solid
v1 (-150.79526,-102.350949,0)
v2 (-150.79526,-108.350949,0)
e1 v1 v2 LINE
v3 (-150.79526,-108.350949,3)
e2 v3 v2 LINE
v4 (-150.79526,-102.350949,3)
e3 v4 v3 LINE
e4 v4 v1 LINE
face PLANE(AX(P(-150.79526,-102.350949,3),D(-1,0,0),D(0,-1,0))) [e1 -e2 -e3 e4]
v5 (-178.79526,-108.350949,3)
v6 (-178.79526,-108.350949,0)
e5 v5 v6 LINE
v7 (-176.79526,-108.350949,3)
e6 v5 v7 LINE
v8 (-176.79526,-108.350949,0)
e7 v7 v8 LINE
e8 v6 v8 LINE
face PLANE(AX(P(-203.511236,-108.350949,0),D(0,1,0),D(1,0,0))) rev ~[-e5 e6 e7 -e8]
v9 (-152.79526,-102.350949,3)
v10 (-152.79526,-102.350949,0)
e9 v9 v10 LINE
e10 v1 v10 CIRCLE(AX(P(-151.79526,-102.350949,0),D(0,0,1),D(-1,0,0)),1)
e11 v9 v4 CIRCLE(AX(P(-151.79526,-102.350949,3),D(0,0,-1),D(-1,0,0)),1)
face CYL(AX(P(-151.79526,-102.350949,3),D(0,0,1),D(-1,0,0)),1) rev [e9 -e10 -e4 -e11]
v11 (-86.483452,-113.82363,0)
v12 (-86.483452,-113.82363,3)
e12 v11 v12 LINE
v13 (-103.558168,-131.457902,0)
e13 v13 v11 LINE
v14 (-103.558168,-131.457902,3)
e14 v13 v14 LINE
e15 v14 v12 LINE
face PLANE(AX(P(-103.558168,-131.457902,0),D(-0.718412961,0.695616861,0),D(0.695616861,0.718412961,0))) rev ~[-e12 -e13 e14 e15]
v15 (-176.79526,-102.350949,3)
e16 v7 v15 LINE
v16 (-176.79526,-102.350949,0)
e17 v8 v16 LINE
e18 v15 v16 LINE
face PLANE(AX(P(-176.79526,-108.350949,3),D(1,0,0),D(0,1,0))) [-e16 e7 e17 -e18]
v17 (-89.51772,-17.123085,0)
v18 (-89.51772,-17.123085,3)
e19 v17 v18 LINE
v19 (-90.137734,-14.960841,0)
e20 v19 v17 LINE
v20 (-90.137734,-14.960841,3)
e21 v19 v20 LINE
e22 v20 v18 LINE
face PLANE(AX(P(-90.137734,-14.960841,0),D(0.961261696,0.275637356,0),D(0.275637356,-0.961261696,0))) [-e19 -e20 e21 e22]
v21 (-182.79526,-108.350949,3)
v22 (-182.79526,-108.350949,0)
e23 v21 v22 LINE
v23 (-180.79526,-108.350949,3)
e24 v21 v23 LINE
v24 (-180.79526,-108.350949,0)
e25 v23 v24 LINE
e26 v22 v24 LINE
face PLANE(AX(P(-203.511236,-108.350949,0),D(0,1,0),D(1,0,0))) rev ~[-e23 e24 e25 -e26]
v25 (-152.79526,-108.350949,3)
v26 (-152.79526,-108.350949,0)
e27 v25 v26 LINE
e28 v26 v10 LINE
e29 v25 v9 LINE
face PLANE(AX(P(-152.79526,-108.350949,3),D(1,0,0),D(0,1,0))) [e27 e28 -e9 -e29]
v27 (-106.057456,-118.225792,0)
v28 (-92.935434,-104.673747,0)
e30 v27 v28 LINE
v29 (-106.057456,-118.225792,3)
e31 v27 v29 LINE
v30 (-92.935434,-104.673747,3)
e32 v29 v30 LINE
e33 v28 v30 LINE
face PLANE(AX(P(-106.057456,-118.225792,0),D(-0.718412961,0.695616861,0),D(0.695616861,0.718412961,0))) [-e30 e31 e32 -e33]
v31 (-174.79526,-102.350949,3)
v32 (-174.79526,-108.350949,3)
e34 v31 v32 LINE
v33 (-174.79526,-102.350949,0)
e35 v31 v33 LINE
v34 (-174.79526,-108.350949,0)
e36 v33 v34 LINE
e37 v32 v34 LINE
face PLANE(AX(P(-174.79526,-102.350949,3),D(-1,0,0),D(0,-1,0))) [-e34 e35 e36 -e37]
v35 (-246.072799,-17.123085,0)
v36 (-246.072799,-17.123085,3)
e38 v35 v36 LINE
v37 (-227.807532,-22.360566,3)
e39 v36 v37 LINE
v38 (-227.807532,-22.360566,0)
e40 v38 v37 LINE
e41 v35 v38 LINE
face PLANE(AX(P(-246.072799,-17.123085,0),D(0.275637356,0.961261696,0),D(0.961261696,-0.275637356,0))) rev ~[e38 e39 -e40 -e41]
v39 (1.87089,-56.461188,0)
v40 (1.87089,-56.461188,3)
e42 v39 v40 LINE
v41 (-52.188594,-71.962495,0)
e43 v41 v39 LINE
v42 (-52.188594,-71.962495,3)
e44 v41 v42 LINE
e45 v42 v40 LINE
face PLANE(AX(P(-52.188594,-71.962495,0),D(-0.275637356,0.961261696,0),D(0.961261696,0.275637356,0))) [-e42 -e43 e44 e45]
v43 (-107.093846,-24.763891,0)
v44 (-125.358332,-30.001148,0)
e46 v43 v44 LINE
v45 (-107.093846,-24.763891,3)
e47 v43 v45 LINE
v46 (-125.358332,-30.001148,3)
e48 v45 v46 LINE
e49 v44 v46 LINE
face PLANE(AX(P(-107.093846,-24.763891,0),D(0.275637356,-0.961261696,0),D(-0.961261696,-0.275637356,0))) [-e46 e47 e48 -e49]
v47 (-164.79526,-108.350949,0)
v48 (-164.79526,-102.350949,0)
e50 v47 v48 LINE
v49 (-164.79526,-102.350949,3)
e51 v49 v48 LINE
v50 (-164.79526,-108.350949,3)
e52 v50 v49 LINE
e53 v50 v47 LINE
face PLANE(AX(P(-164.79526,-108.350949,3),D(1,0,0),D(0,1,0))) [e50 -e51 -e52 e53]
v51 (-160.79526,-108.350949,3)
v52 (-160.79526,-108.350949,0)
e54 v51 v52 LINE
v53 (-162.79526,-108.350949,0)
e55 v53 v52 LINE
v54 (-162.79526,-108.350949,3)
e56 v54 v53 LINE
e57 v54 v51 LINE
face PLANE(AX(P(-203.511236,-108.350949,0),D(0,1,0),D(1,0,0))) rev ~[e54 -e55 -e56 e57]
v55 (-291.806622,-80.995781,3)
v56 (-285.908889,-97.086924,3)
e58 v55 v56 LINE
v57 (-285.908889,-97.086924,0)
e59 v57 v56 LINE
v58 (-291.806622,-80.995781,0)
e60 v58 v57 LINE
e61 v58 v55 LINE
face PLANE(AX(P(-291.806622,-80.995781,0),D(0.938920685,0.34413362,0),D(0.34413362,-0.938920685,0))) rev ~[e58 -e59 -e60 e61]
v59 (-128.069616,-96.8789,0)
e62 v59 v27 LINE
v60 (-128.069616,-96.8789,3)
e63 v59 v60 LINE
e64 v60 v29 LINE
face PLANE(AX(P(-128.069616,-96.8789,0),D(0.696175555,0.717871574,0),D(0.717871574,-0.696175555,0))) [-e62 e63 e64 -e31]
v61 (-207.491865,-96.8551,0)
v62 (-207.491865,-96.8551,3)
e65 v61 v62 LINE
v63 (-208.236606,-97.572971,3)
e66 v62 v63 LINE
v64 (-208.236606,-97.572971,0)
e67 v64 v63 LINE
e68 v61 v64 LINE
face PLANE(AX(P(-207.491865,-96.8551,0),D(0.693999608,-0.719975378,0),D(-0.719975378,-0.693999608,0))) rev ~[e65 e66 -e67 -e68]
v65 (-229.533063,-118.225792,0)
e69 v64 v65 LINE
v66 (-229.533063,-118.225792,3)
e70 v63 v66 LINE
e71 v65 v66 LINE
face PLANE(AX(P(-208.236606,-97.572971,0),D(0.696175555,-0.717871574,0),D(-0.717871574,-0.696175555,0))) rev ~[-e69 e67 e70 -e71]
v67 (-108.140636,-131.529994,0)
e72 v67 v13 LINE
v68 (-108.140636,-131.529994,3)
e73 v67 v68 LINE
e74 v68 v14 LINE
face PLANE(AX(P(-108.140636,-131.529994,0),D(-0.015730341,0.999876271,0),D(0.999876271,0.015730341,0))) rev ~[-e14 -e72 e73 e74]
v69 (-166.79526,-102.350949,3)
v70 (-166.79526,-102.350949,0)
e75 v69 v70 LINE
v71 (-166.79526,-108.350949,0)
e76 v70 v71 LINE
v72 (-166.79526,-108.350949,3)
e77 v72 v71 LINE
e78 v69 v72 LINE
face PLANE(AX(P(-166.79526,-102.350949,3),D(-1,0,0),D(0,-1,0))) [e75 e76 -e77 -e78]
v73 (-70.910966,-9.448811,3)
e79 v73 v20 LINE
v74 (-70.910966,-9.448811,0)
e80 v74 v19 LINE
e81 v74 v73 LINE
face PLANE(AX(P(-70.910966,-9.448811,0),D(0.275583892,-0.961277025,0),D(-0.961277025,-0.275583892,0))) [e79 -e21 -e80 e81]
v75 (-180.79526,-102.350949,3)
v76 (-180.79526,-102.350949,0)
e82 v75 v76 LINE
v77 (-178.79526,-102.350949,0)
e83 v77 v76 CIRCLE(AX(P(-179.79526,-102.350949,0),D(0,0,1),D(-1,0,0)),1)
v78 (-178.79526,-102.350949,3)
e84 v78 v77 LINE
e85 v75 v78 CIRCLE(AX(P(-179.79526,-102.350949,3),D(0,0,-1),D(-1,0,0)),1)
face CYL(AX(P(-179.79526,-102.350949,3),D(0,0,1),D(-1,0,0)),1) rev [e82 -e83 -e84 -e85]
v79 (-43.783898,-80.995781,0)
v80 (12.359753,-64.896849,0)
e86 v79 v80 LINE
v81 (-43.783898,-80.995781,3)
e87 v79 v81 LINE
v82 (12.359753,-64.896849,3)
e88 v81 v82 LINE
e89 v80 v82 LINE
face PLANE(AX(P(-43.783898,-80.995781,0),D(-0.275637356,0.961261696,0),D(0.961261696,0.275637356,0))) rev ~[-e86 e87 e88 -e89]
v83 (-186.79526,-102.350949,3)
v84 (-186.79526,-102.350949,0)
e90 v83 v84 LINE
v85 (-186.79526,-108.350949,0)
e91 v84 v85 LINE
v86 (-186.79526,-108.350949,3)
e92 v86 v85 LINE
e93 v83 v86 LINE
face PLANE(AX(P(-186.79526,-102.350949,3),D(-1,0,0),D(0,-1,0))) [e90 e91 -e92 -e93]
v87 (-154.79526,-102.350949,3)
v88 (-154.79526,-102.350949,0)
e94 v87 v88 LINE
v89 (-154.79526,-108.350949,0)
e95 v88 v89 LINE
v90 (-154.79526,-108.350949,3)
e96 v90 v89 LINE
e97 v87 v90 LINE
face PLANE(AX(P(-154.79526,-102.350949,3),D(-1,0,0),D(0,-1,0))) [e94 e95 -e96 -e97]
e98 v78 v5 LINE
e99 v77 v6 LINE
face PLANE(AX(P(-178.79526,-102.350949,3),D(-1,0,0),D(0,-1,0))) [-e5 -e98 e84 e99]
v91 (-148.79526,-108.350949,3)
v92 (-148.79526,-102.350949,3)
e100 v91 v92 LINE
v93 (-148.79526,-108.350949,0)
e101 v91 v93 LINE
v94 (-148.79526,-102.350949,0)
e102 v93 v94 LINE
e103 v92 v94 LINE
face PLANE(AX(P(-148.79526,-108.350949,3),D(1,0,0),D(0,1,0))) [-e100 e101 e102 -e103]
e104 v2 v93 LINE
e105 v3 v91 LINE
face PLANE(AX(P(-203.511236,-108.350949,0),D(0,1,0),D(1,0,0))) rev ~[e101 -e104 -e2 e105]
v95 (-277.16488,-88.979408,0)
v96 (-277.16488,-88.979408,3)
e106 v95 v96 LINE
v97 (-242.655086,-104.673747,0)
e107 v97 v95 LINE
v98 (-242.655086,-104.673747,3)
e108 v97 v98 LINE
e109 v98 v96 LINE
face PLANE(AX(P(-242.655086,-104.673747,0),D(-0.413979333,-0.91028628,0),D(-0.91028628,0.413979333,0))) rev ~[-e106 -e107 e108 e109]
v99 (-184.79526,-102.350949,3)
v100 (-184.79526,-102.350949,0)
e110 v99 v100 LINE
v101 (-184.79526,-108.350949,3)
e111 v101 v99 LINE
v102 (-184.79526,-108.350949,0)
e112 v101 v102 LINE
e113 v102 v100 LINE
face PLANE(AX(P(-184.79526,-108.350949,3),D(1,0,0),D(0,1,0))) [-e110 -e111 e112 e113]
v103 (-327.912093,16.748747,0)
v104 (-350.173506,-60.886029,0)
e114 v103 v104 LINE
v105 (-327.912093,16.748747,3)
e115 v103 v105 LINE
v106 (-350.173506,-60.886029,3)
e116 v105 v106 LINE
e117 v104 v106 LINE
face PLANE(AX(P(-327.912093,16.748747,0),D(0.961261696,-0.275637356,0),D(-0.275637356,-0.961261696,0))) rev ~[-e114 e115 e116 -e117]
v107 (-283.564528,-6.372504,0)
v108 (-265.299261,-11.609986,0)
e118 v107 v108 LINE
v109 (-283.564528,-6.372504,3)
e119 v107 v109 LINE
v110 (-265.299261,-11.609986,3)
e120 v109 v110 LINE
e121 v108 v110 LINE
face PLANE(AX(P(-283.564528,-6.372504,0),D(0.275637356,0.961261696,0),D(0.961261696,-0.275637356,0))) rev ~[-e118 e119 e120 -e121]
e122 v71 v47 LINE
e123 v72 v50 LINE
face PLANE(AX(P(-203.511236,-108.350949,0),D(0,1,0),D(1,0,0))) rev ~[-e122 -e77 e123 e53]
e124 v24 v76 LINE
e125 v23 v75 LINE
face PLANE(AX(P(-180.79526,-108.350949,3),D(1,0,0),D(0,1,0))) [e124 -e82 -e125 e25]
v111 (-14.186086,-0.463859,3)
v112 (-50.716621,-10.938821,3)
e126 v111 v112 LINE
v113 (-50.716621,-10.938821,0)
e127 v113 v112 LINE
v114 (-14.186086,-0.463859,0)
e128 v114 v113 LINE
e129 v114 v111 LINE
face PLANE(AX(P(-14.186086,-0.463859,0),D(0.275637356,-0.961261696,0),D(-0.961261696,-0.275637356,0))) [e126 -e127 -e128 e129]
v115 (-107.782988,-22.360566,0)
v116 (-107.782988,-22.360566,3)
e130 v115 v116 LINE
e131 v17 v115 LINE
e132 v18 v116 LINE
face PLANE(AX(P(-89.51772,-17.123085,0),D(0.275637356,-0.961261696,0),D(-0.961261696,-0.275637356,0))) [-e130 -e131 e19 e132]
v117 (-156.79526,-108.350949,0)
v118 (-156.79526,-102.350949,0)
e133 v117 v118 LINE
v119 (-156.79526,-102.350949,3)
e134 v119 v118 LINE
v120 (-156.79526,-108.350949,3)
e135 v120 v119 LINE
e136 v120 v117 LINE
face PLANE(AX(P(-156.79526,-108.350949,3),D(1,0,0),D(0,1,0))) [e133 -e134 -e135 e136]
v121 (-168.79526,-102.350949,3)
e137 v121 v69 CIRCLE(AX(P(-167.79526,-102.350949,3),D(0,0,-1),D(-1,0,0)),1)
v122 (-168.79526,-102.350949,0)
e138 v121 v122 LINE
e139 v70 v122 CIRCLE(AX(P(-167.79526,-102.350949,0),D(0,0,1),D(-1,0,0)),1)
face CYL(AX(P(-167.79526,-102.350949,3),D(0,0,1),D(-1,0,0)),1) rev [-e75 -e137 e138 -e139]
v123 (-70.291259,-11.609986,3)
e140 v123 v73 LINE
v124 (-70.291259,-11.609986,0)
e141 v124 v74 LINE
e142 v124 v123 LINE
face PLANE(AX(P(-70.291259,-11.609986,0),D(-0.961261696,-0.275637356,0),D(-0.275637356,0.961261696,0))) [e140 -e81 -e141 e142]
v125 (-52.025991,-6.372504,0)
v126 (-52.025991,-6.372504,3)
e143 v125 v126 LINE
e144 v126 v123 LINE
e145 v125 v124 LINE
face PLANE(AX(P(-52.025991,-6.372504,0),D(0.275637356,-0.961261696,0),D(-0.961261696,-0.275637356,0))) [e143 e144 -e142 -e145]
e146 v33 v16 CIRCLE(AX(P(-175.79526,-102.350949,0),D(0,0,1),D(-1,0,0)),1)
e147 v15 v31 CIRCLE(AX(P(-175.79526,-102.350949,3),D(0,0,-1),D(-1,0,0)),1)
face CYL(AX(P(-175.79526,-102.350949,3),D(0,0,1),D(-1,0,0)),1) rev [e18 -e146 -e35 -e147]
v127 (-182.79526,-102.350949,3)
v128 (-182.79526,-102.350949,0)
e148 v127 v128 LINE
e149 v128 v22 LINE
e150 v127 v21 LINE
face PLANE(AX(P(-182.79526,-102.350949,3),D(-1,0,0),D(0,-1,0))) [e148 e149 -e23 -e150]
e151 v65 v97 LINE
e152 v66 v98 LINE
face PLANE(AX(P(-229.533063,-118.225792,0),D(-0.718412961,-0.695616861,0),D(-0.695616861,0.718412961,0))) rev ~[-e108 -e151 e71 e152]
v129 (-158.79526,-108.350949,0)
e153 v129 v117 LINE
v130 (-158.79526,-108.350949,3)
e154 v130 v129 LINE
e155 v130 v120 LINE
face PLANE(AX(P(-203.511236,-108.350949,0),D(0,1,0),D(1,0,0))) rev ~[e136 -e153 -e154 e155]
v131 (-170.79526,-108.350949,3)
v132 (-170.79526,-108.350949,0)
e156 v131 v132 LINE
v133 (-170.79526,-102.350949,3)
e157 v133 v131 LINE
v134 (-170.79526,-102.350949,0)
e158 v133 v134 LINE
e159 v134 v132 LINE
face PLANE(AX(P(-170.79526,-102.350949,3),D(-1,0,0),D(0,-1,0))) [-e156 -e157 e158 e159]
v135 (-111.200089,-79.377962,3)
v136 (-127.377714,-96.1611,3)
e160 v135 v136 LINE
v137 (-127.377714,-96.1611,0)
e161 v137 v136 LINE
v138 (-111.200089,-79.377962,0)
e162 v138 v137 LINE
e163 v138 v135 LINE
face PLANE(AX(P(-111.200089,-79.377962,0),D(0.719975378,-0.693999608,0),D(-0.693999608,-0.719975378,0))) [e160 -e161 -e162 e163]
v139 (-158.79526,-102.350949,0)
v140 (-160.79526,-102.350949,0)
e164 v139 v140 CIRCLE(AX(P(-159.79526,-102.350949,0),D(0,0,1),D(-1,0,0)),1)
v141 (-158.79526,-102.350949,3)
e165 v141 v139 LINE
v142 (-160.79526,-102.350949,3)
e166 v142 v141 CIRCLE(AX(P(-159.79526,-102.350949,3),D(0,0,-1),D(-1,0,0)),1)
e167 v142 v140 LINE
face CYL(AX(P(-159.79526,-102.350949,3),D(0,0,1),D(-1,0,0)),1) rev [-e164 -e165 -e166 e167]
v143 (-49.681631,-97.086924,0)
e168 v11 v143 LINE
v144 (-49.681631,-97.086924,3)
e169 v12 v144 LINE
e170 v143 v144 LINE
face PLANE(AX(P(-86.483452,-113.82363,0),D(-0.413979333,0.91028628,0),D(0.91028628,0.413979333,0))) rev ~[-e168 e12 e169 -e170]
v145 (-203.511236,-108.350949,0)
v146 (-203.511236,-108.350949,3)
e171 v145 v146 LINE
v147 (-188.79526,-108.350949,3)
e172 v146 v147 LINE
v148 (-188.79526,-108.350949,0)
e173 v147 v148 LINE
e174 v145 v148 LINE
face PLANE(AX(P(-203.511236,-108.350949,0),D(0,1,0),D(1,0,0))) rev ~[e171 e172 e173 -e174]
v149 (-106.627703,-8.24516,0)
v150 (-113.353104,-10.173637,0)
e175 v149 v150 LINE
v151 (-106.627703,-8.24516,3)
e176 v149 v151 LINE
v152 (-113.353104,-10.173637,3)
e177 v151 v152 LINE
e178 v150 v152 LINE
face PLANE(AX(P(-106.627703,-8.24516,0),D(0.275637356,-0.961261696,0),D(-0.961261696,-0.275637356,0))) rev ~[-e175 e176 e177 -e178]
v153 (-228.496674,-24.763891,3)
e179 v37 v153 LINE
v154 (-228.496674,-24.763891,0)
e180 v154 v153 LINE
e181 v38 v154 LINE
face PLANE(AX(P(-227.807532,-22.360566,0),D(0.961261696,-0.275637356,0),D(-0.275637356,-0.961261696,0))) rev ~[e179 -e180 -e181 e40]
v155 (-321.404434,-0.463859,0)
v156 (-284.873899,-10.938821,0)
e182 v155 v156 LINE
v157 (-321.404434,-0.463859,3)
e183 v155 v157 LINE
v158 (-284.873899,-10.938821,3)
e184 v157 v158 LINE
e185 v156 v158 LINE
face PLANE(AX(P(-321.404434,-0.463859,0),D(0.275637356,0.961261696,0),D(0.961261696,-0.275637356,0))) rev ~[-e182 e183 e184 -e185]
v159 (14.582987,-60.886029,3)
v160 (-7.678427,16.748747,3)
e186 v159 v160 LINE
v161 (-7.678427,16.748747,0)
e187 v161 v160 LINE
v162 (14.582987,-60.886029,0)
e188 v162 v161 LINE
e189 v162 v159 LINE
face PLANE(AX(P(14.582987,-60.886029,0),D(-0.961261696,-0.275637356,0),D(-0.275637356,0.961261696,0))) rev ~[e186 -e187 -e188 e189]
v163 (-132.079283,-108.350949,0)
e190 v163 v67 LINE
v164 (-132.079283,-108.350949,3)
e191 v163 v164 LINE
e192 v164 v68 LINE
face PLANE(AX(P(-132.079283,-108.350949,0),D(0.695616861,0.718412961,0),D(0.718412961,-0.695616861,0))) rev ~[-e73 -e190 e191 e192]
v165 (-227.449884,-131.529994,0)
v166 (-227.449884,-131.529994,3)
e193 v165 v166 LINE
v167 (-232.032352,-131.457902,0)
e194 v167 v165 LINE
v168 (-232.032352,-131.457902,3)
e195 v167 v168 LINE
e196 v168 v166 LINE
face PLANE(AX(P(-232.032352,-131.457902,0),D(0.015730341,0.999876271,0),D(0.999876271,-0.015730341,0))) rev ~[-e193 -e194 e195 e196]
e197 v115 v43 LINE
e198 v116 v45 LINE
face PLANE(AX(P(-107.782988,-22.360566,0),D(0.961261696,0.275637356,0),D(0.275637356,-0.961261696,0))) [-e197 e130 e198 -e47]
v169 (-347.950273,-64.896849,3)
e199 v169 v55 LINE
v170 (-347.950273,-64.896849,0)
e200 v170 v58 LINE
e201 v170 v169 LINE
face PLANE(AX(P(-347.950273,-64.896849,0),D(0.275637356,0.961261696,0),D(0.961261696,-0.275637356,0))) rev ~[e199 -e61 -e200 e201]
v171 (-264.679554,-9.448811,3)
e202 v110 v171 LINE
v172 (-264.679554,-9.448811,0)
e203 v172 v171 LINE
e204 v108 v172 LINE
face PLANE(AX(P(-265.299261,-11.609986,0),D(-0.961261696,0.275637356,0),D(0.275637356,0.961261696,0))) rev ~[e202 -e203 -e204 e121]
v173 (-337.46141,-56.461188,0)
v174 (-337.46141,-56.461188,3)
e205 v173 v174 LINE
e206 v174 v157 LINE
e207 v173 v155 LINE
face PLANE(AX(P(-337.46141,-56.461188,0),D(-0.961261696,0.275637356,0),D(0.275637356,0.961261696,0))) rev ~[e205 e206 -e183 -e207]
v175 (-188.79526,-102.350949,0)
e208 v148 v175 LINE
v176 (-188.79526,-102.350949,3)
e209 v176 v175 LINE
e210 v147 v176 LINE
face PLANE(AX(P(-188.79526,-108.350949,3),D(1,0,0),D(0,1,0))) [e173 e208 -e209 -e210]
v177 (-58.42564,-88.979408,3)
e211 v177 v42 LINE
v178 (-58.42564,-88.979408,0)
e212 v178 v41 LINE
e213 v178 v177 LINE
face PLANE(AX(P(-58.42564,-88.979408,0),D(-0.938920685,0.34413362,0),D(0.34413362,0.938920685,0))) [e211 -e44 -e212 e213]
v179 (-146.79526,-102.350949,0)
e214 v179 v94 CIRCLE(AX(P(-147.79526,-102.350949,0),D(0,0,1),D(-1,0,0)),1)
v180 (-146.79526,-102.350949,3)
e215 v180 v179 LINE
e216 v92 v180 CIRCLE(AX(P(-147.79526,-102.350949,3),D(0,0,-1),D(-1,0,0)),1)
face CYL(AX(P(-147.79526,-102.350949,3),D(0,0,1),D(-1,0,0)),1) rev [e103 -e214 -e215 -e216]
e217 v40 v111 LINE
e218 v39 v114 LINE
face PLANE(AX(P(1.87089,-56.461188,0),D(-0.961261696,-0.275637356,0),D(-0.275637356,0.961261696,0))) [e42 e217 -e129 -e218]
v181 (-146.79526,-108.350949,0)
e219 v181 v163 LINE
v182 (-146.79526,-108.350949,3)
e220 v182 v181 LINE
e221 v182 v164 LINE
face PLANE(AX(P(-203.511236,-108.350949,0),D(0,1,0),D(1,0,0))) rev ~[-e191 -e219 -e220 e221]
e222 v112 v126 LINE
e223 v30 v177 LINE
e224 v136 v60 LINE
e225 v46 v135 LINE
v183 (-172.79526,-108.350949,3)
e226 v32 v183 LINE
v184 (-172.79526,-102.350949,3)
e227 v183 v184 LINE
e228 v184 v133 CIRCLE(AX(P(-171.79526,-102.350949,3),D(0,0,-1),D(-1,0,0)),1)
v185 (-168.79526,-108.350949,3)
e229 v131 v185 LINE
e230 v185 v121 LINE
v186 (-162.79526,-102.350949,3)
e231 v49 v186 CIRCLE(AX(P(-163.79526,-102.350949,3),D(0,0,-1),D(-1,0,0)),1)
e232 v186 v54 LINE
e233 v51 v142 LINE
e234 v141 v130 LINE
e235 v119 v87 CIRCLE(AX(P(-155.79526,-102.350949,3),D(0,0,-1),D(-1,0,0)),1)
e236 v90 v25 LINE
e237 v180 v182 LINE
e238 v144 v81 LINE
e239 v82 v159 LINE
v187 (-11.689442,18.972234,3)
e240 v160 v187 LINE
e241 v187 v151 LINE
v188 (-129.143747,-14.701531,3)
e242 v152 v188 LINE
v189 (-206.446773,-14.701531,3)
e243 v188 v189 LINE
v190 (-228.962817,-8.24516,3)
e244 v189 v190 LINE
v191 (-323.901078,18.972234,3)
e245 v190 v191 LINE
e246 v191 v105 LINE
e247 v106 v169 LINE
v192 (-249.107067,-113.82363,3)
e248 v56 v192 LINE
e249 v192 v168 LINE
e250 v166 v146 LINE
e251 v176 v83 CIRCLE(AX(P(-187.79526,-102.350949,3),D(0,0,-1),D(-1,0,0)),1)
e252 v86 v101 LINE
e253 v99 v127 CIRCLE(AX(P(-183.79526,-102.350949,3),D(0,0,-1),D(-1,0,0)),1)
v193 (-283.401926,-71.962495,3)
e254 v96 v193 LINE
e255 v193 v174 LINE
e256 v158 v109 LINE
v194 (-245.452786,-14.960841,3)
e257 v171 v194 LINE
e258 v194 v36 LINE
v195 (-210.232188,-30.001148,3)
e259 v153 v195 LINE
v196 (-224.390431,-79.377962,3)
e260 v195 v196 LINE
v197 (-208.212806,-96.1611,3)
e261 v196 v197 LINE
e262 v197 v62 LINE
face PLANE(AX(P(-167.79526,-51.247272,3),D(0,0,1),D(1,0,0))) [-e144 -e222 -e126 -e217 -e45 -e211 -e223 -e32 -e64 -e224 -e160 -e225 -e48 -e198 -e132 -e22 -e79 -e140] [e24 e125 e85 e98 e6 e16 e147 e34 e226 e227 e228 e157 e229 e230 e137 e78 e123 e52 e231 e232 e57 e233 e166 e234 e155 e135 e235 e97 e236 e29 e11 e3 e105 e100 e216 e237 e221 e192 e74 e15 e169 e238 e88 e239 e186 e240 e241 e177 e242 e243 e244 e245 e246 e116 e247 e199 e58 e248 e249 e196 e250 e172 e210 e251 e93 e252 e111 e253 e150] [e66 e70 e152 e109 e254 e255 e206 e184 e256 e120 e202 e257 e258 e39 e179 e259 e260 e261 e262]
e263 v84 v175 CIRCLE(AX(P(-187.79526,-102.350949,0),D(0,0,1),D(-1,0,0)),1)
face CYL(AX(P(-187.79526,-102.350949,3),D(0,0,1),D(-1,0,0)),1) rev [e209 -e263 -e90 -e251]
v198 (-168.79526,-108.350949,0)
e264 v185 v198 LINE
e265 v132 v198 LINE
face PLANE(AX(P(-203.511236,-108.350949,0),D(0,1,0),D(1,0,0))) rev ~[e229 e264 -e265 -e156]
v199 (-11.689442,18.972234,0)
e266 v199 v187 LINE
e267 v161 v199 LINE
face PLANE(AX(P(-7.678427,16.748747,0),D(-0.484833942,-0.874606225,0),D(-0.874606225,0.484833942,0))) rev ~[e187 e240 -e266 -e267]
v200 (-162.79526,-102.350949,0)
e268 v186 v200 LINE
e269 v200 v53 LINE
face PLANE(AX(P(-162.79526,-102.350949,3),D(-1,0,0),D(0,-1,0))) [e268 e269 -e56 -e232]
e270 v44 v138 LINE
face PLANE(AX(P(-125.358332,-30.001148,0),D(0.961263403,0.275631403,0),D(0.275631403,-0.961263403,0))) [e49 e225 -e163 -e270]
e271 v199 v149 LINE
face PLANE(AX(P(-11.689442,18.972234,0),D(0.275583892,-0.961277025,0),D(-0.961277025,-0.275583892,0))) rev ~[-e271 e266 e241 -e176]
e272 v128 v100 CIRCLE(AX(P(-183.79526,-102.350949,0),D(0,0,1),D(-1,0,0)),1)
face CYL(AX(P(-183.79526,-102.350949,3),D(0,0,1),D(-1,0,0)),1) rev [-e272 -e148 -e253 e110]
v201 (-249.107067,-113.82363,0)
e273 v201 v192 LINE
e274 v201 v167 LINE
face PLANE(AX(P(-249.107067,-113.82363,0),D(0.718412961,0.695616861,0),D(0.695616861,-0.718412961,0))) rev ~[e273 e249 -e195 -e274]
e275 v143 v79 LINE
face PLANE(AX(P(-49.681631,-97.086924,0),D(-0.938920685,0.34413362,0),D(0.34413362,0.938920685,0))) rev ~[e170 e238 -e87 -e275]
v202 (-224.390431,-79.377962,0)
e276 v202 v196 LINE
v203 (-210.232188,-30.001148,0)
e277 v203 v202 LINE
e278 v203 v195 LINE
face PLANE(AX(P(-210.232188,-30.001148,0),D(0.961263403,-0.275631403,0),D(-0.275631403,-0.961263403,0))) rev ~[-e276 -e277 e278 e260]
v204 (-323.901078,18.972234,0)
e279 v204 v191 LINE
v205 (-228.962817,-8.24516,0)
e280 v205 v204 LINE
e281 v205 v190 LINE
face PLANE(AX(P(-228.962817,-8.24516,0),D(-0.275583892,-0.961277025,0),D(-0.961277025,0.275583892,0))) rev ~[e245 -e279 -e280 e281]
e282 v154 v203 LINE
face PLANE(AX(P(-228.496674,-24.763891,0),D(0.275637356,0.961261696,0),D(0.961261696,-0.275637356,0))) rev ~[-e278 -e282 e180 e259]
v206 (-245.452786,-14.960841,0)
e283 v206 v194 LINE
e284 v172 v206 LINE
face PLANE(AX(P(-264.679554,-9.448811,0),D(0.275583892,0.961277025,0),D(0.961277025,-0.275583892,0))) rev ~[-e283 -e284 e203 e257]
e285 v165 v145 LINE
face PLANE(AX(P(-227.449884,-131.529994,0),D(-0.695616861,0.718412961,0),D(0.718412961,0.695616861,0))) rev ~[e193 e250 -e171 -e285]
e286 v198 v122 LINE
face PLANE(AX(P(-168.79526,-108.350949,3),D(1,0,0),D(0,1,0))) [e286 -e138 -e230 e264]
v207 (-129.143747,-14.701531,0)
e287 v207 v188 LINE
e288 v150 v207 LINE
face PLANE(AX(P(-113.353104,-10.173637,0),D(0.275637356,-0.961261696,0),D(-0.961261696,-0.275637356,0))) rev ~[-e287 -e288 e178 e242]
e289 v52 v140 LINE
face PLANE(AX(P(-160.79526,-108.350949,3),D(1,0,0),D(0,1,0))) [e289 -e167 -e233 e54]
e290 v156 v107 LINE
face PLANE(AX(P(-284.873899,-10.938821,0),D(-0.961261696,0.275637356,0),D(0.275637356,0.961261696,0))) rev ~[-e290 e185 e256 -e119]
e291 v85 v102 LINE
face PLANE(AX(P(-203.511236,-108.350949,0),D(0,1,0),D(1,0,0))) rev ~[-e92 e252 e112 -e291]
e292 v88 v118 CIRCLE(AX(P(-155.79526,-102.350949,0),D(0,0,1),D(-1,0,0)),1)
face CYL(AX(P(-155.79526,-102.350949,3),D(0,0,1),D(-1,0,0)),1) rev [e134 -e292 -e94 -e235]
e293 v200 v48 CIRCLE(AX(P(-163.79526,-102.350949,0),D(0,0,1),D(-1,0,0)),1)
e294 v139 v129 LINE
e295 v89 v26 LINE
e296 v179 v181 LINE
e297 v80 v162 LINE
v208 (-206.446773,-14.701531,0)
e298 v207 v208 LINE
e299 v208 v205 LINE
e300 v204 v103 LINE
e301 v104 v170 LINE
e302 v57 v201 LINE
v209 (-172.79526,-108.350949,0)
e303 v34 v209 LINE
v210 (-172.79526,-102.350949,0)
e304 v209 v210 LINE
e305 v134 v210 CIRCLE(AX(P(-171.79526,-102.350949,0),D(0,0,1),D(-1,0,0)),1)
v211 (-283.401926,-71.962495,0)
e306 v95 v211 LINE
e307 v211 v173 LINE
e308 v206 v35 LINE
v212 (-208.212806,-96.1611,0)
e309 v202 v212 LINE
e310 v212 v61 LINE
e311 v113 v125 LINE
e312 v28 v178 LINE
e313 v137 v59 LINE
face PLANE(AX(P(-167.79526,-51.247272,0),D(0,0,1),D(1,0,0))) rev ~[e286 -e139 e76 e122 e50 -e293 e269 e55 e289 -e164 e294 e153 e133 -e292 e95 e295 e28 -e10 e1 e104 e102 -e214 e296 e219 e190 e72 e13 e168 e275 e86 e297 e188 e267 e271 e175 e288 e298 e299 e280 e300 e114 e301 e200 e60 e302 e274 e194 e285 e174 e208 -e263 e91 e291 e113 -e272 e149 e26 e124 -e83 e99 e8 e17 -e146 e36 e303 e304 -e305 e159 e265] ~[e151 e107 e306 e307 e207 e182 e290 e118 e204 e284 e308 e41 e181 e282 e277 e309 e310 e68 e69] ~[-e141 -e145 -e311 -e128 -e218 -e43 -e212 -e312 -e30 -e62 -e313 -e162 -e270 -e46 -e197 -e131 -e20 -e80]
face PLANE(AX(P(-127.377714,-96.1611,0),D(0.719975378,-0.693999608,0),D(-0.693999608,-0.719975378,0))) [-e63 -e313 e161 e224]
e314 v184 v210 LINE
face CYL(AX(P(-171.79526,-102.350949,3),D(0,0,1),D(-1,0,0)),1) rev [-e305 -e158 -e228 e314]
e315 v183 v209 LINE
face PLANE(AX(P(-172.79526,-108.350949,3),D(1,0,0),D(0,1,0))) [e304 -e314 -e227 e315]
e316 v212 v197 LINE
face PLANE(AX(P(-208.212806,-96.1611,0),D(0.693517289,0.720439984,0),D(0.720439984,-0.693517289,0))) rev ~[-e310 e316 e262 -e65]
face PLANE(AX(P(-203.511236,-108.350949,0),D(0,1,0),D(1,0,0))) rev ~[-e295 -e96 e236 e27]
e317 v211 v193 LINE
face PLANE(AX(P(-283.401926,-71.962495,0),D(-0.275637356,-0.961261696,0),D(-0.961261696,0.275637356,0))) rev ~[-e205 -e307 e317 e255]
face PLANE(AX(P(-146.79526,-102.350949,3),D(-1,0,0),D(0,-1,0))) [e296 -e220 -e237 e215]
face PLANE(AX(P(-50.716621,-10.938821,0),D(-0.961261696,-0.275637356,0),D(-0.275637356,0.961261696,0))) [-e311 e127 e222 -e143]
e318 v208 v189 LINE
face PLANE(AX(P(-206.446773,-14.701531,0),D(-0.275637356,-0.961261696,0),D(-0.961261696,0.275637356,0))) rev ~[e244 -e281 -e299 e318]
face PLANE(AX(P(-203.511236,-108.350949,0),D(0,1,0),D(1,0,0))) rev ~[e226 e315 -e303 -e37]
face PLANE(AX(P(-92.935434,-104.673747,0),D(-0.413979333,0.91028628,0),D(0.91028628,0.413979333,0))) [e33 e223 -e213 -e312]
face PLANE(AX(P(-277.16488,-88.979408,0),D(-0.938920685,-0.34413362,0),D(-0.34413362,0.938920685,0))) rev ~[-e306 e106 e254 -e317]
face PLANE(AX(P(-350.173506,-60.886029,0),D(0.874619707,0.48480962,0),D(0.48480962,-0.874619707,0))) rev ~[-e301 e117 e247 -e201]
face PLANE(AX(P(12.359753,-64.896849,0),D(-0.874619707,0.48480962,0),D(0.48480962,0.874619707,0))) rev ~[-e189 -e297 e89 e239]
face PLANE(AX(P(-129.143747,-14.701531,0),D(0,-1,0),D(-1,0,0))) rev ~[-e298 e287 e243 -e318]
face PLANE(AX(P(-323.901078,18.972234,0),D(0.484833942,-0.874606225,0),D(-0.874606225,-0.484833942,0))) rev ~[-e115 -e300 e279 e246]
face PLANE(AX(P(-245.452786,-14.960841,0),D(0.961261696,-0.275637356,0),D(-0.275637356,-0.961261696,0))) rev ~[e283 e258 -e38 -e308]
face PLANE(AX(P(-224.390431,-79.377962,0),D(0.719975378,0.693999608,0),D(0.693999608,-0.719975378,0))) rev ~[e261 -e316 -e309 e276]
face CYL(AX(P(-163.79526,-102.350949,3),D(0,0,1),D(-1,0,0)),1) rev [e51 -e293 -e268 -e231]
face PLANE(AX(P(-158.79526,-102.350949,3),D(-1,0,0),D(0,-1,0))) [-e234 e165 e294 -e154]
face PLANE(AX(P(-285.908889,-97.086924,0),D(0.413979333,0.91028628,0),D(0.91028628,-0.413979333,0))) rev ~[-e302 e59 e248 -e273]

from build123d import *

# Parameters (mm, degrees)
BOSS_EXTRU_1_DEPTH      = 3
ENL_V_MAT_EXTRU_1_DEPTH = 10


with BuildPart() as part:
    # Esquisse1 → Boss.-Extru.1 (new body)
    with BuildSketch(Plane.XY):
        Polygon((-129.143746737, -14.701531345), (-206.446773007, -14.701531345), (-222.237416003, -10.173637327), (-228.962816583, -8.245159743), (-323.901077775, 18.972234266), (-327.912092601, 16.748746626), (-350.173506381, -60.88602933), (-347.950273, -64.896848521), (-291.80662177, -80.995781451), (-285.908889082, -97.08692424), (-249.107067355, -113.823629959), (-232.032352152, -131.457901649), (-227.449883961, -131.529994355), (-203.511236428, -108.350948678), (-132.079283315, -108.350948678), (-108.140635782, -131.529994355), (-103.558167591, -131.457901649), (-86.483452388, -113.823629959), (-49.681630661, -97.08692424), (-43.783897973, -80.995781451), (12.359753257, -64.896848521), (14.582986638, -60.88602933), (-7.678427142, 16.748746626), (-11.689441968, 18.972234266), (-106.627703159, -8.245159743), (-113.35310374, -10.173637327), align=None)
        Polygon((-128.0696158, -96.878899722), (-106.057456456, -118.225792128), (-92.935433745, -104.673746846), (-58.425639792, -88.979407851), (-52.188593581, -71.96249534), (1.870889973, -56.461187875), (-14.186085737, -0.463858857), (-50.716621092, -10.938821309), (-52.025991399, -6.372504389), (-70.291259076, -11.609985616), (-70.910965859, -9.448811229), (-90.137733677, -14.960840928), (-89.517720268, -17.123084647), (-107.782987945, -22.360565873), (-107.093845678, -24.763890567), (-125.358331696, -30.001147656), (-111.200088958, -79.377961929), (-127.377713529, -96.161100182), align=None, mode=Mode.SUBTRACT)
        Polygon((-224.390430785, -79.377961929), (-208.212806214, -96.161100182), (-207.491865187, -96.85509979), (-208.236606037, -97.572971364), (-229.533063287, -118.225792128), (-242.655085998, -104.673746846), (-277.164879951, -88.979407851), (-283.401926162, -71.96249534), (-337.461409717, -56.461187875), (-321.404434006, -0.463858857), (-284.873898651, -10.938821309), (-283.564528345, -6.372504389), (-265.299260667, -11.609985616), (-264.679553884, -9.448811229), (-245.452786066, -14.960840928), (-246.072799476, -17.123084647), (-227.807531798, -22.360565873), (-228.496674065, -24.763890567), (-210.232188047, -30.001147656), align=None, mode=Mode.SUBTRACT)
    extrude(amount=BOSS_EXTRU_1_DEPTH)

    # Esquisse2 → Enlèv. mat.-Extru.1 (cut)
    with BuildSketch(Plane.XY.offset(3)):
        with BuildLine():
            Line((-168.795259872, -108.350948678), (-168.795259872, -102.350948678))
            ThreePointArc((-168.795259872, -102.350948678), (-167.795259872, -101.350948678), (-166.795259872, -102.350948678))
            Line((-166.795259872, -102.350948678), (-166.795259872, -108.350948678))
            ThreePointArc((-166.795259872, -108.350948678), (-167.795259872, -109.350948678), (-168.795259872, -108.350948678))
        make_face()
        with BuildLine():
            Line((-164.795259872, -108.350948678), (-164.795259872, -102.350948678))
            ThreePointArc((-164.795259872, -102.350948678), (-163.795259872, -101.350948678), (-162.795259872, -102.350948678))
            Line((-162.795259872, -102.350948678), (-162.795259872, -108.350948678))
            ThreePointArc((-162.795259872, -108.350948678), (-163.795259872, -109.350948678), (-164.795259872, -108.350948678))
        make_face()
        with BuildLine():
            Line((-160.795259872, -108.350948678), (-160.795259872, -102.350948678))
            ThreePointArc((-160.795259872, -102.350948678), (-159.795259872, -101.350948678), (-158.795259872, -102.350948678))
            Line((-158.795259872, -102.350948678), (-158.795259872, -108.350948678))
            ThreePointArc((-158.795259872, -108.350948678), (-159.795259872, -109.350948678), (-160.795259872, -108.350948678))
        make_face()
        with BuildLine():
            Line((-156.795259872, -108.350948678), (-156.795259872, -102.350948678))
            ThreePointArc((-156.795259872, -102.350948678), (-155.795259872, -101.350948678), (-154.795259872, -102.350948678))
            Line((-154.795259872, -102.350948678), (-154.795259872, -108.350948678))
            ThreePointArc((-154.795259872, -108.350948678), (-155.795259872, -109.350948678), (-156.795259872, -108.350948678))
        make_face()
        with BuildLine():
            Line((-152.795259872, -108.350948678), (-152.795259872, -102.350948678))
            ThreePointArc((-152.795259872, -102.350948678), (-151.795259872, -101.350948678), (-150.795259872, -102.350948678))
            Line((-150.795259872, -102.350948678), (-150.795259872, -108.350948678))
            ThreePointArc((-150.795259872, -108.350948678), (-151.795259872, -109.350948678), (-152.795259872, -108.350948678))
        make_face()
        with BuildLine():
            Line((-148.795259872, -108.350948678), (-148.795259872, -102.350948678))
            ThreePointArc((-148.795259872, -102.350948678), (-147.795259872, -101.350948678), (-146.795259872, -102.350948678))
            Line((-146.795259872, -102.350948678), (-146.795259872, -108.350948678))
            ThreePointArc((-146.795259872, -108.350948678), (-147.795259872, -109.350948678), (-148.795259872, -108.350948678))
        make_face()
        with BuildLine():
            Line((-172.795259872, -108.350948678), (-172.795259872, -102.350948678))
            ThreePointArc((-172.795259872, -102.350948678), (-171.795259872, -101.350948678), (-170.795259872, -102.350948678))
            Line((-170.795259872, -102.350948678), (-170.795259872, -108.350948678))
            ThreePointArc((-170.795259872, -108.350948678), (-171.795259872, -109.350948678), (-172.795259872, -108.350948678))
        make_face()
        with BuildLine():
            Line((-176.795259872, -108.350948678), (-176.795259872, -102.350948678))
            ThreePointArc((-176.795259872, -102.350948678), (-175.795259872, -101.350948678), (-174.795259872, -102.350948678))
            Line((-174.795259872, -102.350948678), (-174.795259872, -108.350948678))
            ThreePointArc((-174.795259872, -108.350948678), (-175.795259872, -109.350948678), (-176.795259872, -108.350948678))
        make_face()
        with BuildLine():
            Line((-180.795259872, -108.350948678), (-180.795259872, -102.350948678))
            ThreePointArc((-180.795259872, -102.350948678), (-179.795259872, -101.350948678), (-178.795259872, -102.350948678))
            Line((-178.795259872, -102.350948678), (-178.795259872, -108.350948678))
            ThreePointArc((-178.795259872, -108.350948678), (-179.795259872, -109.350948678), (-180.795259872, -108.350948678))
        make_face()
        with BuildLine():
            Line((-184.795259872, -108.350948678), (-184.795259872, -102.350948678))
            ThreePointArc((-184.795259872, -102.350948678), (-183.795259872, -101.350948678), (-182.795259872, -102.350948678))
            Line((-182.795259872, -102.350948678), (-182.795259872, -108.350948678))
            ThreePointArc((-182.795259872, -108.350948678), (-183.795259872, -109.350948678), (-184.795259872, -108.350948678))
        make_face()
        with BuildLine():
            Line((-188.795259872, -108.350948678), (-188.795259872, -102.350948678))
            ThreePointArc((-188.795259872, -102.350948678), (-187.795259872, -101.350948678), (-186.795259872, -102.350948678))
            Line((-186.795259872, -102.350948678), (-186.795259872, -108.350948678))
            ThreePointArc((-186.795259872, -108.350948678), (-187.795259872, -109.350948678), (-188.795259872, -108.350948678))
        make_face()
    extrude(amount=-ENL_V_MAT_EXTRU_1_DEPTH, mode=Mode.SUBTRACT)


solid = part.part
